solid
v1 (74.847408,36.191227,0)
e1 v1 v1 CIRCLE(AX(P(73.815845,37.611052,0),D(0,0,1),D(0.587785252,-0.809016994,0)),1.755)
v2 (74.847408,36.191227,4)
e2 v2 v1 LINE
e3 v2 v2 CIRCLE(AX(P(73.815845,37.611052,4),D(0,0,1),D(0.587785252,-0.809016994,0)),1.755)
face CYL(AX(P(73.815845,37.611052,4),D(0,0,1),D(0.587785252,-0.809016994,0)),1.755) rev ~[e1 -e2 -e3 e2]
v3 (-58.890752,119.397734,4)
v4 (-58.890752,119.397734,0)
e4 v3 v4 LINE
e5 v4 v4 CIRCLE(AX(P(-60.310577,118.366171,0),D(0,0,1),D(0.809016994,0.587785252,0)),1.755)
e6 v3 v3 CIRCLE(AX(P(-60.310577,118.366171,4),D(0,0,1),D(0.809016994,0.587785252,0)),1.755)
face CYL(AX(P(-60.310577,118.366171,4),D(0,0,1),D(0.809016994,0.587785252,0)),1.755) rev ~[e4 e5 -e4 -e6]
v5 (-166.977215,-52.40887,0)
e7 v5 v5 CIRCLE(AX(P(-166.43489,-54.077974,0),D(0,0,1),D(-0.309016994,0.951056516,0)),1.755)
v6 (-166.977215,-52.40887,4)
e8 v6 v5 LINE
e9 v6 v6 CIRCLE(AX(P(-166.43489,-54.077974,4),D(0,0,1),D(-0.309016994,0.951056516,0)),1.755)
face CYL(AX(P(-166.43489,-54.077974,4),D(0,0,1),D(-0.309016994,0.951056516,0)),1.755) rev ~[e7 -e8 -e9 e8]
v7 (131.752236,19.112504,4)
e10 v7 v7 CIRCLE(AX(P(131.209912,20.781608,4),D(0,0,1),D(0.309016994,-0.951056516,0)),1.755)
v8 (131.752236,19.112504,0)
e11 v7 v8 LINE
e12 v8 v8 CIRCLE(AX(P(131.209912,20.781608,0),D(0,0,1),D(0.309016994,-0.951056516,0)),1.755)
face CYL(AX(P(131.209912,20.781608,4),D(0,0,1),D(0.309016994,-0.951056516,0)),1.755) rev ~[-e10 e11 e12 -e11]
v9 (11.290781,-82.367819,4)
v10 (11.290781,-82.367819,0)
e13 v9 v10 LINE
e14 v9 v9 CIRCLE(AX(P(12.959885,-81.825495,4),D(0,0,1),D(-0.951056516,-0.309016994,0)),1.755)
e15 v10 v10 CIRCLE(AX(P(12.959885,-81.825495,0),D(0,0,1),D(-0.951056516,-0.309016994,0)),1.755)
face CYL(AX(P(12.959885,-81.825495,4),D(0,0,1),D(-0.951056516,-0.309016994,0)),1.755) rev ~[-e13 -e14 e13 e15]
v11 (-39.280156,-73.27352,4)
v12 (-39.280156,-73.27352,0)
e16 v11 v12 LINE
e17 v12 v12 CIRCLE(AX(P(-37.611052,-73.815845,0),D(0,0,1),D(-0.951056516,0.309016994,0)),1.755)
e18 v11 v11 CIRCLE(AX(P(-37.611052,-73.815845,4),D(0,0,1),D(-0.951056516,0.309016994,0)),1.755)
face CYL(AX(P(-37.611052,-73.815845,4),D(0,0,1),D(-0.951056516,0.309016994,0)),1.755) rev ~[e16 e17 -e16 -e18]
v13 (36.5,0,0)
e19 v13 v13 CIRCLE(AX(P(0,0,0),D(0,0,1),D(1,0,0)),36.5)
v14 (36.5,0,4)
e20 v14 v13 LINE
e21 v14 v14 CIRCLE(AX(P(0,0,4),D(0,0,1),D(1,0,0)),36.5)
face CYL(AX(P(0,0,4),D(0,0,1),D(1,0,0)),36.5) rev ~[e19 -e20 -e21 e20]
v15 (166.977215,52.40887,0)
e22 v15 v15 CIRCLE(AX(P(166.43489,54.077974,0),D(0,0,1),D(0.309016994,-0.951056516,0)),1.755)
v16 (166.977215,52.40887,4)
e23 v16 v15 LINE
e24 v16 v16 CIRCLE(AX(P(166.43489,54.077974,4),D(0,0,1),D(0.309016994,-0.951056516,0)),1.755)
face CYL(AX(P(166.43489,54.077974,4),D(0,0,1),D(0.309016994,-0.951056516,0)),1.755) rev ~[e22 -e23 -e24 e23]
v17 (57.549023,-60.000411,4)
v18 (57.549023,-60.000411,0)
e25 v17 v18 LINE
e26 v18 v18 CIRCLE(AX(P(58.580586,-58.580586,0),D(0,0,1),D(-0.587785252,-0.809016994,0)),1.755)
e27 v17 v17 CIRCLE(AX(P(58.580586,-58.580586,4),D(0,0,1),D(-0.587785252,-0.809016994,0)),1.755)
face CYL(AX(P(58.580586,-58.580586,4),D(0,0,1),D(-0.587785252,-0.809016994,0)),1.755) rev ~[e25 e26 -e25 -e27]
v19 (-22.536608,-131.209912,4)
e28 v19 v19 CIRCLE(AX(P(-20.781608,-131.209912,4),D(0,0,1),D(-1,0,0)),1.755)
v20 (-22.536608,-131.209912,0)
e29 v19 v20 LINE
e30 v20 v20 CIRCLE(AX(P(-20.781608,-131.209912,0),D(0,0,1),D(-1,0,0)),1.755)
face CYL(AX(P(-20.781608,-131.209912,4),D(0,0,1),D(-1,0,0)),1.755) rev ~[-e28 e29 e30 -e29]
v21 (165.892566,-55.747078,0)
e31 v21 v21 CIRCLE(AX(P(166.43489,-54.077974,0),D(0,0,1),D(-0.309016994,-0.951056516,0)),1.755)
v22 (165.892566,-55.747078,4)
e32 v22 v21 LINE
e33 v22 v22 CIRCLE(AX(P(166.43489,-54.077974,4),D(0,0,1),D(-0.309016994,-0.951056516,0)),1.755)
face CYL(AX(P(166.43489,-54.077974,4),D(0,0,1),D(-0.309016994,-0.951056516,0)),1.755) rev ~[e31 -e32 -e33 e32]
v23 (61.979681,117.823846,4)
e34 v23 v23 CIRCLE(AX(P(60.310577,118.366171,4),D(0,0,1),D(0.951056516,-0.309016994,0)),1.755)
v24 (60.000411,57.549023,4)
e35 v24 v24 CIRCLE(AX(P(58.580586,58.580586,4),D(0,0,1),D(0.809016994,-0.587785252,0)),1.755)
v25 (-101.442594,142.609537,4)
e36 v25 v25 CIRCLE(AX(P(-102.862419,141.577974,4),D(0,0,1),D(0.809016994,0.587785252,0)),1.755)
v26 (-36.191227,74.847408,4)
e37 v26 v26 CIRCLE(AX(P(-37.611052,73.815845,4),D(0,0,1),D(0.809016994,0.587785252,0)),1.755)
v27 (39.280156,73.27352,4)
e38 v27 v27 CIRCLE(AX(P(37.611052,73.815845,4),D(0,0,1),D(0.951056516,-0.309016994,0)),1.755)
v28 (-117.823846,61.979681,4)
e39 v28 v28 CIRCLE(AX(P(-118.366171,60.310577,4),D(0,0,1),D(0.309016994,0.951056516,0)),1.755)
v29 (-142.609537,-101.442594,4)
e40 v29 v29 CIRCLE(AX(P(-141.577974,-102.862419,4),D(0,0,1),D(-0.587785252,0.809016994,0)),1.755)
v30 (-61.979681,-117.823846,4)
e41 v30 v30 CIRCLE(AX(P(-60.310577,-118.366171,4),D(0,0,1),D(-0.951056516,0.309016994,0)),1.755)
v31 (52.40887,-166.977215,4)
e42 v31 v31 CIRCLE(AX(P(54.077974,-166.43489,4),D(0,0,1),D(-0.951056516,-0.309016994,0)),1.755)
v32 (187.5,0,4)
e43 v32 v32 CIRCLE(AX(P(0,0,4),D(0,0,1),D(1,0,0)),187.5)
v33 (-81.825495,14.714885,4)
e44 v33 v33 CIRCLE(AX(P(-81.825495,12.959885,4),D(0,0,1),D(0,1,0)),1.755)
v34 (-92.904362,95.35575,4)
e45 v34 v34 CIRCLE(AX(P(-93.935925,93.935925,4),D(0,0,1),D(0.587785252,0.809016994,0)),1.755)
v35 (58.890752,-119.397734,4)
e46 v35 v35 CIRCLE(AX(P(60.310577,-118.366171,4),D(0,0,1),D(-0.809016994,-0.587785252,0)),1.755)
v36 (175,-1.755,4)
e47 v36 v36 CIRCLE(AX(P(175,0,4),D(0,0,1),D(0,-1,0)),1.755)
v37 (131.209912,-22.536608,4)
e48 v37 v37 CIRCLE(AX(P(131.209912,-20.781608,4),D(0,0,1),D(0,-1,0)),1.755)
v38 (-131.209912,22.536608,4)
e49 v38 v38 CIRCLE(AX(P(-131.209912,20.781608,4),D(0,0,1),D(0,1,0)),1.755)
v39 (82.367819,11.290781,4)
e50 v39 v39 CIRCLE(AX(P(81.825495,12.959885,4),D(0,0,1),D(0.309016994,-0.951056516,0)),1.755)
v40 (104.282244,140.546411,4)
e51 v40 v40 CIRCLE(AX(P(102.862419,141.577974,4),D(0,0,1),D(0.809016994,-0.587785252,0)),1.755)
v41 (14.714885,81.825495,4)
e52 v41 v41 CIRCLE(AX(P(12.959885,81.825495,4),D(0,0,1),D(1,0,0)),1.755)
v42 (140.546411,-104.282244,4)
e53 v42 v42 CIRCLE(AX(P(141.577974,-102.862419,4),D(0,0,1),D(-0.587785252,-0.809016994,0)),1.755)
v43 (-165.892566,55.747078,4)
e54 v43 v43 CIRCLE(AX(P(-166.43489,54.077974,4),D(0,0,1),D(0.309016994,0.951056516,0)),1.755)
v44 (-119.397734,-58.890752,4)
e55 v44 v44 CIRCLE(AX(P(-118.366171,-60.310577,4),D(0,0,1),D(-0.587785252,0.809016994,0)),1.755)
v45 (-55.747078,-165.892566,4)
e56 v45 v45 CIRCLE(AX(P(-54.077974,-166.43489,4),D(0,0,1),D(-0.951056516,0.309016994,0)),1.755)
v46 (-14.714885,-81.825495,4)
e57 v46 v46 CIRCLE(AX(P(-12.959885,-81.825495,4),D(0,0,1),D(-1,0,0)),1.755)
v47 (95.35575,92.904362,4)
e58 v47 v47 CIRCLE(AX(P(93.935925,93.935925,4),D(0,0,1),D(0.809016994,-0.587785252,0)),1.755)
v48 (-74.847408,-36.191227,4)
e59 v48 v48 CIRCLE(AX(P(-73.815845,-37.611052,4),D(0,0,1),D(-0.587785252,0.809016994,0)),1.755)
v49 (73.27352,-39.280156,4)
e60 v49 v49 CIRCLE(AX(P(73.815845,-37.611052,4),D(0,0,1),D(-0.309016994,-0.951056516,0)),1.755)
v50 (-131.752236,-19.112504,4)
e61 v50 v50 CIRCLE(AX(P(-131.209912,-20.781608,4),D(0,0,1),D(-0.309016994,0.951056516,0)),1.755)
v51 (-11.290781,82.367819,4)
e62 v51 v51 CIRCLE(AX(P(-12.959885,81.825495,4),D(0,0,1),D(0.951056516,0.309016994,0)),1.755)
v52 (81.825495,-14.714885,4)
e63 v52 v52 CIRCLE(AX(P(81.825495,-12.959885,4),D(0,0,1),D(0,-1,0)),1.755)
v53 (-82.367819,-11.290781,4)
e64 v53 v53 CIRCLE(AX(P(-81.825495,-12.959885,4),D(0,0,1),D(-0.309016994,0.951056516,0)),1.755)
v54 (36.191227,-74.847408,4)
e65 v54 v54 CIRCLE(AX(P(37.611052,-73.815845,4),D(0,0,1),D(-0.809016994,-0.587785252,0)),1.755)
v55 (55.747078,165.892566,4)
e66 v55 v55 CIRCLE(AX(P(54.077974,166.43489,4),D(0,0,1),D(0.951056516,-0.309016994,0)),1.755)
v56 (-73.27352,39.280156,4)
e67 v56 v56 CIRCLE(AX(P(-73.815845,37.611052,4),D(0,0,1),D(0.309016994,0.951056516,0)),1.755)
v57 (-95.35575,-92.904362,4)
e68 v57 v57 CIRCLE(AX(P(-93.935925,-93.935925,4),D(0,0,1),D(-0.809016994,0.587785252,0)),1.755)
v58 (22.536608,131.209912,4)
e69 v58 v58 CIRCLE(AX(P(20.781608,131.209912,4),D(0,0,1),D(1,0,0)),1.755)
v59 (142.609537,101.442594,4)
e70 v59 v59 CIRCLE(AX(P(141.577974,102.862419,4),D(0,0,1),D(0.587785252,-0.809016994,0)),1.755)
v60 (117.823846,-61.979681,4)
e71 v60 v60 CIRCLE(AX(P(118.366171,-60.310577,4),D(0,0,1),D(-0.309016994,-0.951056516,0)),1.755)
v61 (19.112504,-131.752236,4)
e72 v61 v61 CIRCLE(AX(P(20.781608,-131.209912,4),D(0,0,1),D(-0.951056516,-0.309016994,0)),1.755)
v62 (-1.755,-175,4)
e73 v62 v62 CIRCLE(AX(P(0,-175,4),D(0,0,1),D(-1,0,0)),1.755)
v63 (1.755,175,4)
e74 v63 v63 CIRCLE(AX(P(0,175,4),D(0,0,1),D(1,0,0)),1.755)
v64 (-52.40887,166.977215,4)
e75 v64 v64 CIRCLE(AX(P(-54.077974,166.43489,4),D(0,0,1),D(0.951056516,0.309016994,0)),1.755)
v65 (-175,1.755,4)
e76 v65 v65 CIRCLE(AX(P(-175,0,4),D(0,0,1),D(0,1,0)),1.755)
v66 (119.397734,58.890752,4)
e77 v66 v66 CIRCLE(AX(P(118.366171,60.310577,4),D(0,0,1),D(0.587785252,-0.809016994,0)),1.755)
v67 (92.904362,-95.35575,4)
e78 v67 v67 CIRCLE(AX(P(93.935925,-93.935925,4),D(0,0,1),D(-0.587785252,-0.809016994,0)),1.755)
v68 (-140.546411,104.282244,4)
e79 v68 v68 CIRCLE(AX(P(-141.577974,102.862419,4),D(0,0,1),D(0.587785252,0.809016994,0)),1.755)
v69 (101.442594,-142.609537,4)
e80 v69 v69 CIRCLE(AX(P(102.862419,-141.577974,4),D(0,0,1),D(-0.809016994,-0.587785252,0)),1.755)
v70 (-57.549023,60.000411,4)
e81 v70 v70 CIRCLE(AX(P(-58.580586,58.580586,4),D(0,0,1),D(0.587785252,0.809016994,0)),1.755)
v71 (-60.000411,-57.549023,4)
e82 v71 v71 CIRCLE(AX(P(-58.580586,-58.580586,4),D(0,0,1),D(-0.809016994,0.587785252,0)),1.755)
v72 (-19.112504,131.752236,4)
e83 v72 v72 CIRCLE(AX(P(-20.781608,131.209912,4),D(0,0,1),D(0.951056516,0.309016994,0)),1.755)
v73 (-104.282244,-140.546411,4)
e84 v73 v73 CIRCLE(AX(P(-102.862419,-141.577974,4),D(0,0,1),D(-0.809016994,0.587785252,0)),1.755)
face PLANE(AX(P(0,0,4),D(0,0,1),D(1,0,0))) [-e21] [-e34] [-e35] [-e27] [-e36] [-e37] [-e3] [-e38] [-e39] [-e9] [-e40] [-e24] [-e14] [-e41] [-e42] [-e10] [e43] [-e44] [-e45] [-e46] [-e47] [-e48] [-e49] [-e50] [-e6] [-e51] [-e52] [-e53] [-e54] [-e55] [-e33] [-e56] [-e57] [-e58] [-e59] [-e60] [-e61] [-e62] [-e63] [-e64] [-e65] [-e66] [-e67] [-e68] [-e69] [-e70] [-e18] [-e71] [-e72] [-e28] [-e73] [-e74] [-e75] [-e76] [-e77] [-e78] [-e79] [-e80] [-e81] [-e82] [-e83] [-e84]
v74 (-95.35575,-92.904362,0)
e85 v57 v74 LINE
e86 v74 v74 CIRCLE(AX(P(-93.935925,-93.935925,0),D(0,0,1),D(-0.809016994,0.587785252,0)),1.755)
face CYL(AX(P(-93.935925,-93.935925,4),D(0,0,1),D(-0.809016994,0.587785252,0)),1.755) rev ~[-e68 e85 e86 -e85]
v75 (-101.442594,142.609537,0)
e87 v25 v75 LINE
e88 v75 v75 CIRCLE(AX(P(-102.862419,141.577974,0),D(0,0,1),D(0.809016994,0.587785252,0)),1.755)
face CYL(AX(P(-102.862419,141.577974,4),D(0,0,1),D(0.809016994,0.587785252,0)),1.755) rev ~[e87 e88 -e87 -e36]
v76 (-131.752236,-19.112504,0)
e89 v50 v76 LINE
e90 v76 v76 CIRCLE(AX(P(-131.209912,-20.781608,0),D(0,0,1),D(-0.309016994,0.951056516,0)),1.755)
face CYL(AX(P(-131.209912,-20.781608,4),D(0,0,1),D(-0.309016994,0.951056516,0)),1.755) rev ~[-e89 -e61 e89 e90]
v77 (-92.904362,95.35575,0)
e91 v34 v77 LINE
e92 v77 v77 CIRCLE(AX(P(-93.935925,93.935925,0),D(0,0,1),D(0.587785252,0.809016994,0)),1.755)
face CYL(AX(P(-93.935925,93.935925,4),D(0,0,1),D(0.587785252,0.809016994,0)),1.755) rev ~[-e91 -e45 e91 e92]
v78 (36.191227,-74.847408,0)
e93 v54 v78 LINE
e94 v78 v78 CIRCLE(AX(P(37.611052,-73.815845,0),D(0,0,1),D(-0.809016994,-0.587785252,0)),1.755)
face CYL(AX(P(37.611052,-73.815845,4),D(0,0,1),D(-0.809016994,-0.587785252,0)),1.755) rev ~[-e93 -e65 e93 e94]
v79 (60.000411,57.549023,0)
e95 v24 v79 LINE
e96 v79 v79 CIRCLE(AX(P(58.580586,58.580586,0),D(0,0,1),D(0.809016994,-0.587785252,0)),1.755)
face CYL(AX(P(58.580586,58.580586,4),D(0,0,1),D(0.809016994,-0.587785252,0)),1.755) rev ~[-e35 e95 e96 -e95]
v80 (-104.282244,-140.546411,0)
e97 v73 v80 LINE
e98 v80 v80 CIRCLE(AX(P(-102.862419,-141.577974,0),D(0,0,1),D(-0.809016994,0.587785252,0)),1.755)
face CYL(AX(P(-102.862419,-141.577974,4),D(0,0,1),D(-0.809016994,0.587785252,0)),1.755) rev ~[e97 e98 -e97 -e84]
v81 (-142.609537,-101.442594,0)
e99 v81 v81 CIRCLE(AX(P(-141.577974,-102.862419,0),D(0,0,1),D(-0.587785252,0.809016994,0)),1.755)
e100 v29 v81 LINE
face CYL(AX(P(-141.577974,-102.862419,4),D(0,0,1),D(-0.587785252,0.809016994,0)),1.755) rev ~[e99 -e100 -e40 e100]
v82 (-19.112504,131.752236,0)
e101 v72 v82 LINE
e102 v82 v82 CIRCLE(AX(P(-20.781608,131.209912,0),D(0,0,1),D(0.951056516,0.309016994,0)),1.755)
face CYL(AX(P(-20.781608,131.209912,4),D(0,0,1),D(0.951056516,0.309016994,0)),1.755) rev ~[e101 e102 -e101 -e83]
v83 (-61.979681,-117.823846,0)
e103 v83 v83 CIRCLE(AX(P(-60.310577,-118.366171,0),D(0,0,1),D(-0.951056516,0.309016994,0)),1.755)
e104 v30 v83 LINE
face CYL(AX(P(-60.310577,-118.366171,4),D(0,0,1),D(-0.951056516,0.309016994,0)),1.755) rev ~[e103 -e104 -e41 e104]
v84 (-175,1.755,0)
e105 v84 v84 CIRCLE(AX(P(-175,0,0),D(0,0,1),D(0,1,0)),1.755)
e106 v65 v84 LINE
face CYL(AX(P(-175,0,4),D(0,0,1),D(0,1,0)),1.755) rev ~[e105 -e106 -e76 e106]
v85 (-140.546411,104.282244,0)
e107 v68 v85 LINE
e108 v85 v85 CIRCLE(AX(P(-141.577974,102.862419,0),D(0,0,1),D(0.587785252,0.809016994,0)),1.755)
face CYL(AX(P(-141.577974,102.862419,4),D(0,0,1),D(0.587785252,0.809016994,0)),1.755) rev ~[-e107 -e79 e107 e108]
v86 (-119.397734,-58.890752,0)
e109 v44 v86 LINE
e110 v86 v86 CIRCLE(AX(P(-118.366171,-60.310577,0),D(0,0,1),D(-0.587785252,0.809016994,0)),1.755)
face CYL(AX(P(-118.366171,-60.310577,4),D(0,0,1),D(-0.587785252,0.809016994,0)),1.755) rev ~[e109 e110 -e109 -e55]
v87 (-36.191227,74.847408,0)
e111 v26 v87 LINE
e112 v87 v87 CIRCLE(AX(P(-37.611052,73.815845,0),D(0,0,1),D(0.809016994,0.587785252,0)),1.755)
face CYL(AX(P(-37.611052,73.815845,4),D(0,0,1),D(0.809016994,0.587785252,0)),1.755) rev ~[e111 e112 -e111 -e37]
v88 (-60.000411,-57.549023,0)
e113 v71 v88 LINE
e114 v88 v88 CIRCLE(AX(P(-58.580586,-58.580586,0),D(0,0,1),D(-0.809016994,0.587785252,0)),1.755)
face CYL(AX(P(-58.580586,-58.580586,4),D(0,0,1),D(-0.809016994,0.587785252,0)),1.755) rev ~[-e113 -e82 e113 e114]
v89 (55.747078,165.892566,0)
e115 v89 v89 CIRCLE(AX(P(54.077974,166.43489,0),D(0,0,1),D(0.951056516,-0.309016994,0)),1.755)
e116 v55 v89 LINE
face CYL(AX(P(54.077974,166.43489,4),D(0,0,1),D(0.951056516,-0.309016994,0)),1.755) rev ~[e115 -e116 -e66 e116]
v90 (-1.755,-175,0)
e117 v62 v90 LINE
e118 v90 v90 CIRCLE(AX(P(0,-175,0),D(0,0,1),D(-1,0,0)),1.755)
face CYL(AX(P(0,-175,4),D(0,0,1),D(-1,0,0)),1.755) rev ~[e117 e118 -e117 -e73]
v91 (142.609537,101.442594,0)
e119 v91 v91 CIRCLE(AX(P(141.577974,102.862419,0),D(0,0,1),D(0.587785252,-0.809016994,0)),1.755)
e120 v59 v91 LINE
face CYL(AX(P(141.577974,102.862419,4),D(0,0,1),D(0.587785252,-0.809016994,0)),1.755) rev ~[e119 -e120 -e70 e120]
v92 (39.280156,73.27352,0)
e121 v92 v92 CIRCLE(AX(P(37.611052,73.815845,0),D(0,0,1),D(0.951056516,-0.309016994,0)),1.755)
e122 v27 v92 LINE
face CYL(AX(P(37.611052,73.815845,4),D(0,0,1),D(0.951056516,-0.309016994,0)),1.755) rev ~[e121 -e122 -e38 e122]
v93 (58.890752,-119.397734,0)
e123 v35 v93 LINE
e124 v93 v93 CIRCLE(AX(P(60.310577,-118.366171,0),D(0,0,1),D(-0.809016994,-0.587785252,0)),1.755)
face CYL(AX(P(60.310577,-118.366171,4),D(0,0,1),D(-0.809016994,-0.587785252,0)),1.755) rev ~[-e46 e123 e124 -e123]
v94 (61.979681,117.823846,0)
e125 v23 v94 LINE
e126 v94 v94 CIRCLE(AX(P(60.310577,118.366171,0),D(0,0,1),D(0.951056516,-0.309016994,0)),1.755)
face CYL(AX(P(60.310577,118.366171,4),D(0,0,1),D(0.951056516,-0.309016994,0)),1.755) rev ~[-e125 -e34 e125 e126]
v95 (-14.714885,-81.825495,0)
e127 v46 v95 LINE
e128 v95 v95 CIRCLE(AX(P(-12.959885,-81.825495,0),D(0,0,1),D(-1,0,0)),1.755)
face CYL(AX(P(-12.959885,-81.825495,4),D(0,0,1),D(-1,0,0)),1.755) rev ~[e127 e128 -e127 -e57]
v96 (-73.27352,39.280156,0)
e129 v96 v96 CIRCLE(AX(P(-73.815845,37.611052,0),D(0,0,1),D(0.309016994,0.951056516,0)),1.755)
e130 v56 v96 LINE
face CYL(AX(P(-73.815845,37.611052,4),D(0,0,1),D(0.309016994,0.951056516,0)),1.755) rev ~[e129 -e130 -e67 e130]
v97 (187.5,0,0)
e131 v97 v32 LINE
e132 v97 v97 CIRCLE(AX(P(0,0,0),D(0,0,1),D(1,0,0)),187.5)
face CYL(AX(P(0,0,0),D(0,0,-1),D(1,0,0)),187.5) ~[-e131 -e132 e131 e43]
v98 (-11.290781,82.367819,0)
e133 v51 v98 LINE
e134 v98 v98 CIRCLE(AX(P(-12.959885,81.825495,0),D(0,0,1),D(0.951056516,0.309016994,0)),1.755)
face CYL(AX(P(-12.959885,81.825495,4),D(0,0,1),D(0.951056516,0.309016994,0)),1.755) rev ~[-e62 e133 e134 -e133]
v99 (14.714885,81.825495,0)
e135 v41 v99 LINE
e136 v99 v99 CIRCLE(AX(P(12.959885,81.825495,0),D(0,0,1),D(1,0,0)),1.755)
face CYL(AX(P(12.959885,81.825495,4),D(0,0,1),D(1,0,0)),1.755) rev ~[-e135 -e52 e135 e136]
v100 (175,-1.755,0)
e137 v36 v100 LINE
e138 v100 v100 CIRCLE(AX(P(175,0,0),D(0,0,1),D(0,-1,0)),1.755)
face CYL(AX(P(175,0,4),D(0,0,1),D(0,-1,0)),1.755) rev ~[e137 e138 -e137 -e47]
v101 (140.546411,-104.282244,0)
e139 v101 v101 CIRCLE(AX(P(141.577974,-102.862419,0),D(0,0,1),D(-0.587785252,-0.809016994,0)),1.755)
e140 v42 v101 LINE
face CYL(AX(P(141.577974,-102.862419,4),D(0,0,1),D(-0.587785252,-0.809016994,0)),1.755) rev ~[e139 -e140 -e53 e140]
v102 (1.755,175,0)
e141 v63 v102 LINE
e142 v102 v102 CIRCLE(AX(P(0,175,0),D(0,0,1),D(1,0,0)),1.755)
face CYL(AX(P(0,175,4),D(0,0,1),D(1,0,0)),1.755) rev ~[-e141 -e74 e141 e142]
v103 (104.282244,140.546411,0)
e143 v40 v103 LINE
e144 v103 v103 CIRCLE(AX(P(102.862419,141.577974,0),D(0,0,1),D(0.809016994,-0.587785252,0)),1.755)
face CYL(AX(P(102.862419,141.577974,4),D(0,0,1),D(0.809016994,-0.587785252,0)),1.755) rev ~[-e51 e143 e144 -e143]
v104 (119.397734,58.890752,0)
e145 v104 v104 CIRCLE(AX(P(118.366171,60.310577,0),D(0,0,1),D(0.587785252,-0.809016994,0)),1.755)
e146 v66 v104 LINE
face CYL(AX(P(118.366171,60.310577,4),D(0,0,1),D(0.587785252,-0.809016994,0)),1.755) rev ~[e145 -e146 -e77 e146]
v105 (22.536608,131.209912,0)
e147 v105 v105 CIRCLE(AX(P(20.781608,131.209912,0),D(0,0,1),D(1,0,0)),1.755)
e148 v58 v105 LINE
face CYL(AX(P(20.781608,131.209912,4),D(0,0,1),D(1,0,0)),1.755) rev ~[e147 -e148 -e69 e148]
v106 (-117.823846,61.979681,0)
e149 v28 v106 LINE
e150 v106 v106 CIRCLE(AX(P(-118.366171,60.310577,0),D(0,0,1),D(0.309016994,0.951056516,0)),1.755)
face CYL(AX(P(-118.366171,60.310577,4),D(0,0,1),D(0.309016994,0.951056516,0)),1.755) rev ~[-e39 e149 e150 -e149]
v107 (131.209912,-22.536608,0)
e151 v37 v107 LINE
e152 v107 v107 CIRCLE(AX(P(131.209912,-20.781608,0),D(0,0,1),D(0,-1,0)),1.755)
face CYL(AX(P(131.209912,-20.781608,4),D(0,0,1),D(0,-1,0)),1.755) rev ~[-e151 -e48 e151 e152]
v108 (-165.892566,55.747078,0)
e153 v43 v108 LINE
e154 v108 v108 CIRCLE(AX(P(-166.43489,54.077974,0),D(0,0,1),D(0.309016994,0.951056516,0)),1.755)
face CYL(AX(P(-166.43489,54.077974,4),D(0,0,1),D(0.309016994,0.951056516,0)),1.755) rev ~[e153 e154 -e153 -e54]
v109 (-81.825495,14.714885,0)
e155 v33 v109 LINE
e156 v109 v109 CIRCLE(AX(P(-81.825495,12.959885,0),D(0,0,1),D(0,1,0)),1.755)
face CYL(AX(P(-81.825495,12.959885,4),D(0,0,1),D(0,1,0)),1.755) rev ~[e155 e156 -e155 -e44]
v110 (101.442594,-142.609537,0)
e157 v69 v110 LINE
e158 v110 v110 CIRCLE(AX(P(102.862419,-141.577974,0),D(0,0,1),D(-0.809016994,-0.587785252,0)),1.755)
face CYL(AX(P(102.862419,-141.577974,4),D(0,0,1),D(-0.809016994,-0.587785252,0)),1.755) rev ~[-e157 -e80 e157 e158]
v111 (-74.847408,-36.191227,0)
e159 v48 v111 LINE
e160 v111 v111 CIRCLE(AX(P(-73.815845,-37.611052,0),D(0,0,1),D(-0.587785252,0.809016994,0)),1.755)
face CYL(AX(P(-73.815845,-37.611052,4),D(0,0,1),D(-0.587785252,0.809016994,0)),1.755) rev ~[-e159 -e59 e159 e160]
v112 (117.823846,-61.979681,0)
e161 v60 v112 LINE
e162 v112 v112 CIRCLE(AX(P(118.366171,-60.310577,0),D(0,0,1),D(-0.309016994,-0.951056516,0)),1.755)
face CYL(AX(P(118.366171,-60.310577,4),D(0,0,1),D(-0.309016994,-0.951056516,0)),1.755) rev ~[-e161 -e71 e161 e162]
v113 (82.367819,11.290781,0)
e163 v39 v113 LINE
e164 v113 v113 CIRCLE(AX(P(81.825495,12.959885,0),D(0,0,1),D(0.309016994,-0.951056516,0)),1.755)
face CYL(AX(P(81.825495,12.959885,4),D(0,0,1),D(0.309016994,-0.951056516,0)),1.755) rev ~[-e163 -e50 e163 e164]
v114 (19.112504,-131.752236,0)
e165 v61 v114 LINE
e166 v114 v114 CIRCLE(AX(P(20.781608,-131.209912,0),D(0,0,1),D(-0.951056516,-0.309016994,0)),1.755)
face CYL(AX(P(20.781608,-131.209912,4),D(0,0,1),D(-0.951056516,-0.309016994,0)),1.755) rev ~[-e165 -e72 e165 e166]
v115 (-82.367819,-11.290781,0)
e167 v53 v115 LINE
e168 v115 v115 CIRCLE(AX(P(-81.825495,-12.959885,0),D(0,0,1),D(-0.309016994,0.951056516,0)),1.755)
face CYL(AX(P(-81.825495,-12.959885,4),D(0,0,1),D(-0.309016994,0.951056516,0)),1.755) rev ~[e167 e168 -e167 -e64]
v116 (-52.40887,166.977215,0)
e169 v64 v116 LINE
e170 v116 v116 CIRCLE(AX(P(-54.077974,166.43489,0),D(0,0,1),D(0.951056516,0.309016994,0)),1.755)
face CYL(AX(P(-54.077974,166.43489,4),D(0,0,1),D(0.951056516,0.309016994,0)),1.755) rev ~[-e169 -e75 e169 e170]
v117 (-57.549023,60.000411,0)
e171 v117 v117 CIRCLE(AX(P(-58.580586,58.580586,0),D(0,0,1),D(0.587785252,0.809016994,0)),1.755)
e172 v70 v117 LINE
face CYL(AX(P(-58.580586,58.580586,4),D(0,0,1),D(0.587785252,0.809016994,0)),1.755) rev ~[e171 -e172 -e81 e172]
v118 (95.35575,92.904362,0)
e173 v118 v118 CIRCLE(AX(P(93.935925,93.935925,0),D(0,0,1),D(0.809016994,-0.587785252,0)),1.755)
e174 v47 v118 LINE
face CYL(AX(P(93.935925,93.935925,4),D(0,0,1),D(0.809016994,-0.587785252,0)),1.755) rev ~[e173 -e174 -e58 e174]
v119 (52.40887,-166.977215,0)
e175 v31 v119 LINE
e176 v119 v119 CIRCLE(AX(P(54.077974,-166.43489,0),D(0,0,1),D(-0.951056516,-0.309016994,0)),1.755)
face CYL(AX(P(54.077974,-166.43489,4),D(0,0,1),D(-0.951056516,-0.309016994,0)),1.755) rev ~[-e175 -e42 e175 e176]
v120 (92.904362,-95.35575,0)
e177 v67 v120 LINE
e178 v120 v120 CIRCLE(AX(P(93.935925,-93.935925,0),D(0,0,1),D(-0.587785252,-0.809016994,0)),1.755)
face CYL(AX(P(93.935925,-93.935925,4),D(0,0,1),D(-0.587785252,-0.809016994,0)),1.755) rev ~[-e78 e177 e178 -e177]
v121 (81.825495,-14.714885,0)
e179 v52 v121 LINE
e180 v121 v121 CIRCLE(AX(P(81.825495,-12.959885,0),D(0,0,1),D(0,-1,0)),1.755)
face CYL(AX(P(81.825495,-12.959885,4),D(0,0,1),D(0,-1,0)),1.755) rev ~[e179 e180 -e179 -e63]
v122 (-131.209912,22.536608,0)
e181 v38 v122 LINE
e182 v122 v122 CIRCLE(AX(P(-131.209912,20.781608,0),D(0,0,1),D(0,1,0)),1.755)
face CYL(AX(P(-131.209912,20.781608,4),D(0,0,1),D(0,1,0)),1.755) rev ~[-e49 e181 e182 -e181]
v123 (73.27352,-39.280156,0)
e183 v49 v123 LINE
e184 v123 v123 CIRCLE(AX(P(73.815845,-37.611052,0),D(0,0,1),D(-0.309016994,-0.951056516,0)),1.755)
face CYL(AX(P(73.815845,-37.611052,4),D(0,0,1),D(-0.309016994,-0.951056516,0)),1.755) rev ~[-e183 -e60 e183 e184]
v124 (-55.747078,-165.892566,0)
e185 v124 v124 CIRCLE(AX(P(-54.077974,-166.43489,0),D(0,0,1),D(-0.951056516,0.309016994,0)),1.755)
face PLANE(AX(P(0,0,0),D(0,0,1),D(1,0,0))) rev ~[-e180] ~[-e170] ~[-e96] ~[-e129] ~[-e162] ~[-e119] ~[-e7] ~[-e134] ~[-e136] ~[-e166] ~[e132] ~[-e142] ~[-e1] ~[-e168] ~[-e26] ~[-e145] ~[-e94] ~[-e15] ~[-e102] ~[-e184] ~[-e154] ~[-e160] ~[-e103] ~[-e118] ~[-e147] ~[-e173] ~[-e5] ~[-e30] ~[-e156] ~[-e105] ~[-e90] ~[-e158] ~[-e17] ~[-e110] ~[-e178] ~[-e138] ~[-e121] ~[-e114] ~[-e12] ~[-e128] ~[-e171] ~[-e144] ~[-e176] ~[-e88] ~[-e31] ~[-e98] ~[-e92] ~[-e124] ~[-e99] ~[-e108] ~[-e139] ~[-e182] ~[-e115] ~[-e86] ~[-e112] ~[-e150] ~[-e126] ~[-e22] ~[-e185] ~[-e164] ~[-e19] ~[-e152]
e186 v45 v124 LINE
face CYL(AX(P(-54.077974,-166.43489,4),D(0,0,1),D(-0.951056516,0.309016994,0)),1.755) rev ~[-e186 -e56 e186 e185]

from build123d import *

# Parameters (mm, degrees)
SKETCH1_R           = 187.5
BOSS_EXTRUDE1_DEPTH = 4
SKETCH2_R           = 36.5
CUT_EXTRUDE1_DEPTH  = 266.195211118
SKETCH3_R           = 1.755
CUT_EXTRUDE2_DEPTH  = 266.195211118
CIRPATTERN1_COUNT   = 20
SKETCH4_R           = 1.755
CUT_EXTRUDE3_DEPTH  = 266.195211118
CIRPATTERN2_COUNT   = 20


with BuildPart() as part:
    # Sketch1 → Boss-Extrude1 (new body)
    with BuildSketch(Plane.XY):
        Circle(SKETCH1_R)
    extrude(amount=BOSS_EXTRUDE1_DEPTH)

    # Sketch2 → Cut-Extrude1 (cut, through all)
    with BuildSketch(Plane.XY.offset(4)):
        Circle(SKETCH2_R)
    extrude(amount=-CUT_EXTRUDE1_DEPTH, mode=Mode.SUBTRACT)

    # Sketch3 → Cut-Extrude2 (cut, through all)
    with BuildSketch(Plane.XY.offset(4)):
        with Locations((0, 175)):
            Circle(SKETCH3_R)
    cut_extrude2 = extrude(amount=-CUT_EXTRUDE2_DEPTH, mode=Mode.SUBTRACT)

    # CirPattern1: Cut-Extrude2 ×20 about axis
    cirpattern1_axis = Axis((0, 0, -0.2), (0, 0, 1))
    for i in range(1, CIRPATTERN1_COUNT):
        add(cut_extrude2.rotate(cirpattern1_axis, i * 360 / CIRPATTERN1_COUNT), mode=Mode.SUBTRACT)

    # Sketch4 → Cut-Extrude3 (cut, through all)
    with BuildSketch(Plane.XY.offset(4)):
        with Locations((20.781608406, 131.209911552)):
            Circle(SKETCH4_R)
        with Locations((12.959885154, 81.825494522)):
            Circle(SKETCH4_R)
    cut_extrude3 = extrude(amount=-CUT_EXTRUDE3_DEPTH, mode=Mode.SUBTRACT)

    # CirPattern2: Cut-Extrude3 ×20 about axis
    cirpattern2_axis = Axis((0, 0, -0.2), (0, 0, 1))
    for i in range(1, CIRPATTERN2_COUNT):
        add(cut_extrude3.rotate(cirpattern2_axis, i * 360 / CIRPATTERN2_COUNT), mode=Mode.SUBTRACT)


solid = part.part
